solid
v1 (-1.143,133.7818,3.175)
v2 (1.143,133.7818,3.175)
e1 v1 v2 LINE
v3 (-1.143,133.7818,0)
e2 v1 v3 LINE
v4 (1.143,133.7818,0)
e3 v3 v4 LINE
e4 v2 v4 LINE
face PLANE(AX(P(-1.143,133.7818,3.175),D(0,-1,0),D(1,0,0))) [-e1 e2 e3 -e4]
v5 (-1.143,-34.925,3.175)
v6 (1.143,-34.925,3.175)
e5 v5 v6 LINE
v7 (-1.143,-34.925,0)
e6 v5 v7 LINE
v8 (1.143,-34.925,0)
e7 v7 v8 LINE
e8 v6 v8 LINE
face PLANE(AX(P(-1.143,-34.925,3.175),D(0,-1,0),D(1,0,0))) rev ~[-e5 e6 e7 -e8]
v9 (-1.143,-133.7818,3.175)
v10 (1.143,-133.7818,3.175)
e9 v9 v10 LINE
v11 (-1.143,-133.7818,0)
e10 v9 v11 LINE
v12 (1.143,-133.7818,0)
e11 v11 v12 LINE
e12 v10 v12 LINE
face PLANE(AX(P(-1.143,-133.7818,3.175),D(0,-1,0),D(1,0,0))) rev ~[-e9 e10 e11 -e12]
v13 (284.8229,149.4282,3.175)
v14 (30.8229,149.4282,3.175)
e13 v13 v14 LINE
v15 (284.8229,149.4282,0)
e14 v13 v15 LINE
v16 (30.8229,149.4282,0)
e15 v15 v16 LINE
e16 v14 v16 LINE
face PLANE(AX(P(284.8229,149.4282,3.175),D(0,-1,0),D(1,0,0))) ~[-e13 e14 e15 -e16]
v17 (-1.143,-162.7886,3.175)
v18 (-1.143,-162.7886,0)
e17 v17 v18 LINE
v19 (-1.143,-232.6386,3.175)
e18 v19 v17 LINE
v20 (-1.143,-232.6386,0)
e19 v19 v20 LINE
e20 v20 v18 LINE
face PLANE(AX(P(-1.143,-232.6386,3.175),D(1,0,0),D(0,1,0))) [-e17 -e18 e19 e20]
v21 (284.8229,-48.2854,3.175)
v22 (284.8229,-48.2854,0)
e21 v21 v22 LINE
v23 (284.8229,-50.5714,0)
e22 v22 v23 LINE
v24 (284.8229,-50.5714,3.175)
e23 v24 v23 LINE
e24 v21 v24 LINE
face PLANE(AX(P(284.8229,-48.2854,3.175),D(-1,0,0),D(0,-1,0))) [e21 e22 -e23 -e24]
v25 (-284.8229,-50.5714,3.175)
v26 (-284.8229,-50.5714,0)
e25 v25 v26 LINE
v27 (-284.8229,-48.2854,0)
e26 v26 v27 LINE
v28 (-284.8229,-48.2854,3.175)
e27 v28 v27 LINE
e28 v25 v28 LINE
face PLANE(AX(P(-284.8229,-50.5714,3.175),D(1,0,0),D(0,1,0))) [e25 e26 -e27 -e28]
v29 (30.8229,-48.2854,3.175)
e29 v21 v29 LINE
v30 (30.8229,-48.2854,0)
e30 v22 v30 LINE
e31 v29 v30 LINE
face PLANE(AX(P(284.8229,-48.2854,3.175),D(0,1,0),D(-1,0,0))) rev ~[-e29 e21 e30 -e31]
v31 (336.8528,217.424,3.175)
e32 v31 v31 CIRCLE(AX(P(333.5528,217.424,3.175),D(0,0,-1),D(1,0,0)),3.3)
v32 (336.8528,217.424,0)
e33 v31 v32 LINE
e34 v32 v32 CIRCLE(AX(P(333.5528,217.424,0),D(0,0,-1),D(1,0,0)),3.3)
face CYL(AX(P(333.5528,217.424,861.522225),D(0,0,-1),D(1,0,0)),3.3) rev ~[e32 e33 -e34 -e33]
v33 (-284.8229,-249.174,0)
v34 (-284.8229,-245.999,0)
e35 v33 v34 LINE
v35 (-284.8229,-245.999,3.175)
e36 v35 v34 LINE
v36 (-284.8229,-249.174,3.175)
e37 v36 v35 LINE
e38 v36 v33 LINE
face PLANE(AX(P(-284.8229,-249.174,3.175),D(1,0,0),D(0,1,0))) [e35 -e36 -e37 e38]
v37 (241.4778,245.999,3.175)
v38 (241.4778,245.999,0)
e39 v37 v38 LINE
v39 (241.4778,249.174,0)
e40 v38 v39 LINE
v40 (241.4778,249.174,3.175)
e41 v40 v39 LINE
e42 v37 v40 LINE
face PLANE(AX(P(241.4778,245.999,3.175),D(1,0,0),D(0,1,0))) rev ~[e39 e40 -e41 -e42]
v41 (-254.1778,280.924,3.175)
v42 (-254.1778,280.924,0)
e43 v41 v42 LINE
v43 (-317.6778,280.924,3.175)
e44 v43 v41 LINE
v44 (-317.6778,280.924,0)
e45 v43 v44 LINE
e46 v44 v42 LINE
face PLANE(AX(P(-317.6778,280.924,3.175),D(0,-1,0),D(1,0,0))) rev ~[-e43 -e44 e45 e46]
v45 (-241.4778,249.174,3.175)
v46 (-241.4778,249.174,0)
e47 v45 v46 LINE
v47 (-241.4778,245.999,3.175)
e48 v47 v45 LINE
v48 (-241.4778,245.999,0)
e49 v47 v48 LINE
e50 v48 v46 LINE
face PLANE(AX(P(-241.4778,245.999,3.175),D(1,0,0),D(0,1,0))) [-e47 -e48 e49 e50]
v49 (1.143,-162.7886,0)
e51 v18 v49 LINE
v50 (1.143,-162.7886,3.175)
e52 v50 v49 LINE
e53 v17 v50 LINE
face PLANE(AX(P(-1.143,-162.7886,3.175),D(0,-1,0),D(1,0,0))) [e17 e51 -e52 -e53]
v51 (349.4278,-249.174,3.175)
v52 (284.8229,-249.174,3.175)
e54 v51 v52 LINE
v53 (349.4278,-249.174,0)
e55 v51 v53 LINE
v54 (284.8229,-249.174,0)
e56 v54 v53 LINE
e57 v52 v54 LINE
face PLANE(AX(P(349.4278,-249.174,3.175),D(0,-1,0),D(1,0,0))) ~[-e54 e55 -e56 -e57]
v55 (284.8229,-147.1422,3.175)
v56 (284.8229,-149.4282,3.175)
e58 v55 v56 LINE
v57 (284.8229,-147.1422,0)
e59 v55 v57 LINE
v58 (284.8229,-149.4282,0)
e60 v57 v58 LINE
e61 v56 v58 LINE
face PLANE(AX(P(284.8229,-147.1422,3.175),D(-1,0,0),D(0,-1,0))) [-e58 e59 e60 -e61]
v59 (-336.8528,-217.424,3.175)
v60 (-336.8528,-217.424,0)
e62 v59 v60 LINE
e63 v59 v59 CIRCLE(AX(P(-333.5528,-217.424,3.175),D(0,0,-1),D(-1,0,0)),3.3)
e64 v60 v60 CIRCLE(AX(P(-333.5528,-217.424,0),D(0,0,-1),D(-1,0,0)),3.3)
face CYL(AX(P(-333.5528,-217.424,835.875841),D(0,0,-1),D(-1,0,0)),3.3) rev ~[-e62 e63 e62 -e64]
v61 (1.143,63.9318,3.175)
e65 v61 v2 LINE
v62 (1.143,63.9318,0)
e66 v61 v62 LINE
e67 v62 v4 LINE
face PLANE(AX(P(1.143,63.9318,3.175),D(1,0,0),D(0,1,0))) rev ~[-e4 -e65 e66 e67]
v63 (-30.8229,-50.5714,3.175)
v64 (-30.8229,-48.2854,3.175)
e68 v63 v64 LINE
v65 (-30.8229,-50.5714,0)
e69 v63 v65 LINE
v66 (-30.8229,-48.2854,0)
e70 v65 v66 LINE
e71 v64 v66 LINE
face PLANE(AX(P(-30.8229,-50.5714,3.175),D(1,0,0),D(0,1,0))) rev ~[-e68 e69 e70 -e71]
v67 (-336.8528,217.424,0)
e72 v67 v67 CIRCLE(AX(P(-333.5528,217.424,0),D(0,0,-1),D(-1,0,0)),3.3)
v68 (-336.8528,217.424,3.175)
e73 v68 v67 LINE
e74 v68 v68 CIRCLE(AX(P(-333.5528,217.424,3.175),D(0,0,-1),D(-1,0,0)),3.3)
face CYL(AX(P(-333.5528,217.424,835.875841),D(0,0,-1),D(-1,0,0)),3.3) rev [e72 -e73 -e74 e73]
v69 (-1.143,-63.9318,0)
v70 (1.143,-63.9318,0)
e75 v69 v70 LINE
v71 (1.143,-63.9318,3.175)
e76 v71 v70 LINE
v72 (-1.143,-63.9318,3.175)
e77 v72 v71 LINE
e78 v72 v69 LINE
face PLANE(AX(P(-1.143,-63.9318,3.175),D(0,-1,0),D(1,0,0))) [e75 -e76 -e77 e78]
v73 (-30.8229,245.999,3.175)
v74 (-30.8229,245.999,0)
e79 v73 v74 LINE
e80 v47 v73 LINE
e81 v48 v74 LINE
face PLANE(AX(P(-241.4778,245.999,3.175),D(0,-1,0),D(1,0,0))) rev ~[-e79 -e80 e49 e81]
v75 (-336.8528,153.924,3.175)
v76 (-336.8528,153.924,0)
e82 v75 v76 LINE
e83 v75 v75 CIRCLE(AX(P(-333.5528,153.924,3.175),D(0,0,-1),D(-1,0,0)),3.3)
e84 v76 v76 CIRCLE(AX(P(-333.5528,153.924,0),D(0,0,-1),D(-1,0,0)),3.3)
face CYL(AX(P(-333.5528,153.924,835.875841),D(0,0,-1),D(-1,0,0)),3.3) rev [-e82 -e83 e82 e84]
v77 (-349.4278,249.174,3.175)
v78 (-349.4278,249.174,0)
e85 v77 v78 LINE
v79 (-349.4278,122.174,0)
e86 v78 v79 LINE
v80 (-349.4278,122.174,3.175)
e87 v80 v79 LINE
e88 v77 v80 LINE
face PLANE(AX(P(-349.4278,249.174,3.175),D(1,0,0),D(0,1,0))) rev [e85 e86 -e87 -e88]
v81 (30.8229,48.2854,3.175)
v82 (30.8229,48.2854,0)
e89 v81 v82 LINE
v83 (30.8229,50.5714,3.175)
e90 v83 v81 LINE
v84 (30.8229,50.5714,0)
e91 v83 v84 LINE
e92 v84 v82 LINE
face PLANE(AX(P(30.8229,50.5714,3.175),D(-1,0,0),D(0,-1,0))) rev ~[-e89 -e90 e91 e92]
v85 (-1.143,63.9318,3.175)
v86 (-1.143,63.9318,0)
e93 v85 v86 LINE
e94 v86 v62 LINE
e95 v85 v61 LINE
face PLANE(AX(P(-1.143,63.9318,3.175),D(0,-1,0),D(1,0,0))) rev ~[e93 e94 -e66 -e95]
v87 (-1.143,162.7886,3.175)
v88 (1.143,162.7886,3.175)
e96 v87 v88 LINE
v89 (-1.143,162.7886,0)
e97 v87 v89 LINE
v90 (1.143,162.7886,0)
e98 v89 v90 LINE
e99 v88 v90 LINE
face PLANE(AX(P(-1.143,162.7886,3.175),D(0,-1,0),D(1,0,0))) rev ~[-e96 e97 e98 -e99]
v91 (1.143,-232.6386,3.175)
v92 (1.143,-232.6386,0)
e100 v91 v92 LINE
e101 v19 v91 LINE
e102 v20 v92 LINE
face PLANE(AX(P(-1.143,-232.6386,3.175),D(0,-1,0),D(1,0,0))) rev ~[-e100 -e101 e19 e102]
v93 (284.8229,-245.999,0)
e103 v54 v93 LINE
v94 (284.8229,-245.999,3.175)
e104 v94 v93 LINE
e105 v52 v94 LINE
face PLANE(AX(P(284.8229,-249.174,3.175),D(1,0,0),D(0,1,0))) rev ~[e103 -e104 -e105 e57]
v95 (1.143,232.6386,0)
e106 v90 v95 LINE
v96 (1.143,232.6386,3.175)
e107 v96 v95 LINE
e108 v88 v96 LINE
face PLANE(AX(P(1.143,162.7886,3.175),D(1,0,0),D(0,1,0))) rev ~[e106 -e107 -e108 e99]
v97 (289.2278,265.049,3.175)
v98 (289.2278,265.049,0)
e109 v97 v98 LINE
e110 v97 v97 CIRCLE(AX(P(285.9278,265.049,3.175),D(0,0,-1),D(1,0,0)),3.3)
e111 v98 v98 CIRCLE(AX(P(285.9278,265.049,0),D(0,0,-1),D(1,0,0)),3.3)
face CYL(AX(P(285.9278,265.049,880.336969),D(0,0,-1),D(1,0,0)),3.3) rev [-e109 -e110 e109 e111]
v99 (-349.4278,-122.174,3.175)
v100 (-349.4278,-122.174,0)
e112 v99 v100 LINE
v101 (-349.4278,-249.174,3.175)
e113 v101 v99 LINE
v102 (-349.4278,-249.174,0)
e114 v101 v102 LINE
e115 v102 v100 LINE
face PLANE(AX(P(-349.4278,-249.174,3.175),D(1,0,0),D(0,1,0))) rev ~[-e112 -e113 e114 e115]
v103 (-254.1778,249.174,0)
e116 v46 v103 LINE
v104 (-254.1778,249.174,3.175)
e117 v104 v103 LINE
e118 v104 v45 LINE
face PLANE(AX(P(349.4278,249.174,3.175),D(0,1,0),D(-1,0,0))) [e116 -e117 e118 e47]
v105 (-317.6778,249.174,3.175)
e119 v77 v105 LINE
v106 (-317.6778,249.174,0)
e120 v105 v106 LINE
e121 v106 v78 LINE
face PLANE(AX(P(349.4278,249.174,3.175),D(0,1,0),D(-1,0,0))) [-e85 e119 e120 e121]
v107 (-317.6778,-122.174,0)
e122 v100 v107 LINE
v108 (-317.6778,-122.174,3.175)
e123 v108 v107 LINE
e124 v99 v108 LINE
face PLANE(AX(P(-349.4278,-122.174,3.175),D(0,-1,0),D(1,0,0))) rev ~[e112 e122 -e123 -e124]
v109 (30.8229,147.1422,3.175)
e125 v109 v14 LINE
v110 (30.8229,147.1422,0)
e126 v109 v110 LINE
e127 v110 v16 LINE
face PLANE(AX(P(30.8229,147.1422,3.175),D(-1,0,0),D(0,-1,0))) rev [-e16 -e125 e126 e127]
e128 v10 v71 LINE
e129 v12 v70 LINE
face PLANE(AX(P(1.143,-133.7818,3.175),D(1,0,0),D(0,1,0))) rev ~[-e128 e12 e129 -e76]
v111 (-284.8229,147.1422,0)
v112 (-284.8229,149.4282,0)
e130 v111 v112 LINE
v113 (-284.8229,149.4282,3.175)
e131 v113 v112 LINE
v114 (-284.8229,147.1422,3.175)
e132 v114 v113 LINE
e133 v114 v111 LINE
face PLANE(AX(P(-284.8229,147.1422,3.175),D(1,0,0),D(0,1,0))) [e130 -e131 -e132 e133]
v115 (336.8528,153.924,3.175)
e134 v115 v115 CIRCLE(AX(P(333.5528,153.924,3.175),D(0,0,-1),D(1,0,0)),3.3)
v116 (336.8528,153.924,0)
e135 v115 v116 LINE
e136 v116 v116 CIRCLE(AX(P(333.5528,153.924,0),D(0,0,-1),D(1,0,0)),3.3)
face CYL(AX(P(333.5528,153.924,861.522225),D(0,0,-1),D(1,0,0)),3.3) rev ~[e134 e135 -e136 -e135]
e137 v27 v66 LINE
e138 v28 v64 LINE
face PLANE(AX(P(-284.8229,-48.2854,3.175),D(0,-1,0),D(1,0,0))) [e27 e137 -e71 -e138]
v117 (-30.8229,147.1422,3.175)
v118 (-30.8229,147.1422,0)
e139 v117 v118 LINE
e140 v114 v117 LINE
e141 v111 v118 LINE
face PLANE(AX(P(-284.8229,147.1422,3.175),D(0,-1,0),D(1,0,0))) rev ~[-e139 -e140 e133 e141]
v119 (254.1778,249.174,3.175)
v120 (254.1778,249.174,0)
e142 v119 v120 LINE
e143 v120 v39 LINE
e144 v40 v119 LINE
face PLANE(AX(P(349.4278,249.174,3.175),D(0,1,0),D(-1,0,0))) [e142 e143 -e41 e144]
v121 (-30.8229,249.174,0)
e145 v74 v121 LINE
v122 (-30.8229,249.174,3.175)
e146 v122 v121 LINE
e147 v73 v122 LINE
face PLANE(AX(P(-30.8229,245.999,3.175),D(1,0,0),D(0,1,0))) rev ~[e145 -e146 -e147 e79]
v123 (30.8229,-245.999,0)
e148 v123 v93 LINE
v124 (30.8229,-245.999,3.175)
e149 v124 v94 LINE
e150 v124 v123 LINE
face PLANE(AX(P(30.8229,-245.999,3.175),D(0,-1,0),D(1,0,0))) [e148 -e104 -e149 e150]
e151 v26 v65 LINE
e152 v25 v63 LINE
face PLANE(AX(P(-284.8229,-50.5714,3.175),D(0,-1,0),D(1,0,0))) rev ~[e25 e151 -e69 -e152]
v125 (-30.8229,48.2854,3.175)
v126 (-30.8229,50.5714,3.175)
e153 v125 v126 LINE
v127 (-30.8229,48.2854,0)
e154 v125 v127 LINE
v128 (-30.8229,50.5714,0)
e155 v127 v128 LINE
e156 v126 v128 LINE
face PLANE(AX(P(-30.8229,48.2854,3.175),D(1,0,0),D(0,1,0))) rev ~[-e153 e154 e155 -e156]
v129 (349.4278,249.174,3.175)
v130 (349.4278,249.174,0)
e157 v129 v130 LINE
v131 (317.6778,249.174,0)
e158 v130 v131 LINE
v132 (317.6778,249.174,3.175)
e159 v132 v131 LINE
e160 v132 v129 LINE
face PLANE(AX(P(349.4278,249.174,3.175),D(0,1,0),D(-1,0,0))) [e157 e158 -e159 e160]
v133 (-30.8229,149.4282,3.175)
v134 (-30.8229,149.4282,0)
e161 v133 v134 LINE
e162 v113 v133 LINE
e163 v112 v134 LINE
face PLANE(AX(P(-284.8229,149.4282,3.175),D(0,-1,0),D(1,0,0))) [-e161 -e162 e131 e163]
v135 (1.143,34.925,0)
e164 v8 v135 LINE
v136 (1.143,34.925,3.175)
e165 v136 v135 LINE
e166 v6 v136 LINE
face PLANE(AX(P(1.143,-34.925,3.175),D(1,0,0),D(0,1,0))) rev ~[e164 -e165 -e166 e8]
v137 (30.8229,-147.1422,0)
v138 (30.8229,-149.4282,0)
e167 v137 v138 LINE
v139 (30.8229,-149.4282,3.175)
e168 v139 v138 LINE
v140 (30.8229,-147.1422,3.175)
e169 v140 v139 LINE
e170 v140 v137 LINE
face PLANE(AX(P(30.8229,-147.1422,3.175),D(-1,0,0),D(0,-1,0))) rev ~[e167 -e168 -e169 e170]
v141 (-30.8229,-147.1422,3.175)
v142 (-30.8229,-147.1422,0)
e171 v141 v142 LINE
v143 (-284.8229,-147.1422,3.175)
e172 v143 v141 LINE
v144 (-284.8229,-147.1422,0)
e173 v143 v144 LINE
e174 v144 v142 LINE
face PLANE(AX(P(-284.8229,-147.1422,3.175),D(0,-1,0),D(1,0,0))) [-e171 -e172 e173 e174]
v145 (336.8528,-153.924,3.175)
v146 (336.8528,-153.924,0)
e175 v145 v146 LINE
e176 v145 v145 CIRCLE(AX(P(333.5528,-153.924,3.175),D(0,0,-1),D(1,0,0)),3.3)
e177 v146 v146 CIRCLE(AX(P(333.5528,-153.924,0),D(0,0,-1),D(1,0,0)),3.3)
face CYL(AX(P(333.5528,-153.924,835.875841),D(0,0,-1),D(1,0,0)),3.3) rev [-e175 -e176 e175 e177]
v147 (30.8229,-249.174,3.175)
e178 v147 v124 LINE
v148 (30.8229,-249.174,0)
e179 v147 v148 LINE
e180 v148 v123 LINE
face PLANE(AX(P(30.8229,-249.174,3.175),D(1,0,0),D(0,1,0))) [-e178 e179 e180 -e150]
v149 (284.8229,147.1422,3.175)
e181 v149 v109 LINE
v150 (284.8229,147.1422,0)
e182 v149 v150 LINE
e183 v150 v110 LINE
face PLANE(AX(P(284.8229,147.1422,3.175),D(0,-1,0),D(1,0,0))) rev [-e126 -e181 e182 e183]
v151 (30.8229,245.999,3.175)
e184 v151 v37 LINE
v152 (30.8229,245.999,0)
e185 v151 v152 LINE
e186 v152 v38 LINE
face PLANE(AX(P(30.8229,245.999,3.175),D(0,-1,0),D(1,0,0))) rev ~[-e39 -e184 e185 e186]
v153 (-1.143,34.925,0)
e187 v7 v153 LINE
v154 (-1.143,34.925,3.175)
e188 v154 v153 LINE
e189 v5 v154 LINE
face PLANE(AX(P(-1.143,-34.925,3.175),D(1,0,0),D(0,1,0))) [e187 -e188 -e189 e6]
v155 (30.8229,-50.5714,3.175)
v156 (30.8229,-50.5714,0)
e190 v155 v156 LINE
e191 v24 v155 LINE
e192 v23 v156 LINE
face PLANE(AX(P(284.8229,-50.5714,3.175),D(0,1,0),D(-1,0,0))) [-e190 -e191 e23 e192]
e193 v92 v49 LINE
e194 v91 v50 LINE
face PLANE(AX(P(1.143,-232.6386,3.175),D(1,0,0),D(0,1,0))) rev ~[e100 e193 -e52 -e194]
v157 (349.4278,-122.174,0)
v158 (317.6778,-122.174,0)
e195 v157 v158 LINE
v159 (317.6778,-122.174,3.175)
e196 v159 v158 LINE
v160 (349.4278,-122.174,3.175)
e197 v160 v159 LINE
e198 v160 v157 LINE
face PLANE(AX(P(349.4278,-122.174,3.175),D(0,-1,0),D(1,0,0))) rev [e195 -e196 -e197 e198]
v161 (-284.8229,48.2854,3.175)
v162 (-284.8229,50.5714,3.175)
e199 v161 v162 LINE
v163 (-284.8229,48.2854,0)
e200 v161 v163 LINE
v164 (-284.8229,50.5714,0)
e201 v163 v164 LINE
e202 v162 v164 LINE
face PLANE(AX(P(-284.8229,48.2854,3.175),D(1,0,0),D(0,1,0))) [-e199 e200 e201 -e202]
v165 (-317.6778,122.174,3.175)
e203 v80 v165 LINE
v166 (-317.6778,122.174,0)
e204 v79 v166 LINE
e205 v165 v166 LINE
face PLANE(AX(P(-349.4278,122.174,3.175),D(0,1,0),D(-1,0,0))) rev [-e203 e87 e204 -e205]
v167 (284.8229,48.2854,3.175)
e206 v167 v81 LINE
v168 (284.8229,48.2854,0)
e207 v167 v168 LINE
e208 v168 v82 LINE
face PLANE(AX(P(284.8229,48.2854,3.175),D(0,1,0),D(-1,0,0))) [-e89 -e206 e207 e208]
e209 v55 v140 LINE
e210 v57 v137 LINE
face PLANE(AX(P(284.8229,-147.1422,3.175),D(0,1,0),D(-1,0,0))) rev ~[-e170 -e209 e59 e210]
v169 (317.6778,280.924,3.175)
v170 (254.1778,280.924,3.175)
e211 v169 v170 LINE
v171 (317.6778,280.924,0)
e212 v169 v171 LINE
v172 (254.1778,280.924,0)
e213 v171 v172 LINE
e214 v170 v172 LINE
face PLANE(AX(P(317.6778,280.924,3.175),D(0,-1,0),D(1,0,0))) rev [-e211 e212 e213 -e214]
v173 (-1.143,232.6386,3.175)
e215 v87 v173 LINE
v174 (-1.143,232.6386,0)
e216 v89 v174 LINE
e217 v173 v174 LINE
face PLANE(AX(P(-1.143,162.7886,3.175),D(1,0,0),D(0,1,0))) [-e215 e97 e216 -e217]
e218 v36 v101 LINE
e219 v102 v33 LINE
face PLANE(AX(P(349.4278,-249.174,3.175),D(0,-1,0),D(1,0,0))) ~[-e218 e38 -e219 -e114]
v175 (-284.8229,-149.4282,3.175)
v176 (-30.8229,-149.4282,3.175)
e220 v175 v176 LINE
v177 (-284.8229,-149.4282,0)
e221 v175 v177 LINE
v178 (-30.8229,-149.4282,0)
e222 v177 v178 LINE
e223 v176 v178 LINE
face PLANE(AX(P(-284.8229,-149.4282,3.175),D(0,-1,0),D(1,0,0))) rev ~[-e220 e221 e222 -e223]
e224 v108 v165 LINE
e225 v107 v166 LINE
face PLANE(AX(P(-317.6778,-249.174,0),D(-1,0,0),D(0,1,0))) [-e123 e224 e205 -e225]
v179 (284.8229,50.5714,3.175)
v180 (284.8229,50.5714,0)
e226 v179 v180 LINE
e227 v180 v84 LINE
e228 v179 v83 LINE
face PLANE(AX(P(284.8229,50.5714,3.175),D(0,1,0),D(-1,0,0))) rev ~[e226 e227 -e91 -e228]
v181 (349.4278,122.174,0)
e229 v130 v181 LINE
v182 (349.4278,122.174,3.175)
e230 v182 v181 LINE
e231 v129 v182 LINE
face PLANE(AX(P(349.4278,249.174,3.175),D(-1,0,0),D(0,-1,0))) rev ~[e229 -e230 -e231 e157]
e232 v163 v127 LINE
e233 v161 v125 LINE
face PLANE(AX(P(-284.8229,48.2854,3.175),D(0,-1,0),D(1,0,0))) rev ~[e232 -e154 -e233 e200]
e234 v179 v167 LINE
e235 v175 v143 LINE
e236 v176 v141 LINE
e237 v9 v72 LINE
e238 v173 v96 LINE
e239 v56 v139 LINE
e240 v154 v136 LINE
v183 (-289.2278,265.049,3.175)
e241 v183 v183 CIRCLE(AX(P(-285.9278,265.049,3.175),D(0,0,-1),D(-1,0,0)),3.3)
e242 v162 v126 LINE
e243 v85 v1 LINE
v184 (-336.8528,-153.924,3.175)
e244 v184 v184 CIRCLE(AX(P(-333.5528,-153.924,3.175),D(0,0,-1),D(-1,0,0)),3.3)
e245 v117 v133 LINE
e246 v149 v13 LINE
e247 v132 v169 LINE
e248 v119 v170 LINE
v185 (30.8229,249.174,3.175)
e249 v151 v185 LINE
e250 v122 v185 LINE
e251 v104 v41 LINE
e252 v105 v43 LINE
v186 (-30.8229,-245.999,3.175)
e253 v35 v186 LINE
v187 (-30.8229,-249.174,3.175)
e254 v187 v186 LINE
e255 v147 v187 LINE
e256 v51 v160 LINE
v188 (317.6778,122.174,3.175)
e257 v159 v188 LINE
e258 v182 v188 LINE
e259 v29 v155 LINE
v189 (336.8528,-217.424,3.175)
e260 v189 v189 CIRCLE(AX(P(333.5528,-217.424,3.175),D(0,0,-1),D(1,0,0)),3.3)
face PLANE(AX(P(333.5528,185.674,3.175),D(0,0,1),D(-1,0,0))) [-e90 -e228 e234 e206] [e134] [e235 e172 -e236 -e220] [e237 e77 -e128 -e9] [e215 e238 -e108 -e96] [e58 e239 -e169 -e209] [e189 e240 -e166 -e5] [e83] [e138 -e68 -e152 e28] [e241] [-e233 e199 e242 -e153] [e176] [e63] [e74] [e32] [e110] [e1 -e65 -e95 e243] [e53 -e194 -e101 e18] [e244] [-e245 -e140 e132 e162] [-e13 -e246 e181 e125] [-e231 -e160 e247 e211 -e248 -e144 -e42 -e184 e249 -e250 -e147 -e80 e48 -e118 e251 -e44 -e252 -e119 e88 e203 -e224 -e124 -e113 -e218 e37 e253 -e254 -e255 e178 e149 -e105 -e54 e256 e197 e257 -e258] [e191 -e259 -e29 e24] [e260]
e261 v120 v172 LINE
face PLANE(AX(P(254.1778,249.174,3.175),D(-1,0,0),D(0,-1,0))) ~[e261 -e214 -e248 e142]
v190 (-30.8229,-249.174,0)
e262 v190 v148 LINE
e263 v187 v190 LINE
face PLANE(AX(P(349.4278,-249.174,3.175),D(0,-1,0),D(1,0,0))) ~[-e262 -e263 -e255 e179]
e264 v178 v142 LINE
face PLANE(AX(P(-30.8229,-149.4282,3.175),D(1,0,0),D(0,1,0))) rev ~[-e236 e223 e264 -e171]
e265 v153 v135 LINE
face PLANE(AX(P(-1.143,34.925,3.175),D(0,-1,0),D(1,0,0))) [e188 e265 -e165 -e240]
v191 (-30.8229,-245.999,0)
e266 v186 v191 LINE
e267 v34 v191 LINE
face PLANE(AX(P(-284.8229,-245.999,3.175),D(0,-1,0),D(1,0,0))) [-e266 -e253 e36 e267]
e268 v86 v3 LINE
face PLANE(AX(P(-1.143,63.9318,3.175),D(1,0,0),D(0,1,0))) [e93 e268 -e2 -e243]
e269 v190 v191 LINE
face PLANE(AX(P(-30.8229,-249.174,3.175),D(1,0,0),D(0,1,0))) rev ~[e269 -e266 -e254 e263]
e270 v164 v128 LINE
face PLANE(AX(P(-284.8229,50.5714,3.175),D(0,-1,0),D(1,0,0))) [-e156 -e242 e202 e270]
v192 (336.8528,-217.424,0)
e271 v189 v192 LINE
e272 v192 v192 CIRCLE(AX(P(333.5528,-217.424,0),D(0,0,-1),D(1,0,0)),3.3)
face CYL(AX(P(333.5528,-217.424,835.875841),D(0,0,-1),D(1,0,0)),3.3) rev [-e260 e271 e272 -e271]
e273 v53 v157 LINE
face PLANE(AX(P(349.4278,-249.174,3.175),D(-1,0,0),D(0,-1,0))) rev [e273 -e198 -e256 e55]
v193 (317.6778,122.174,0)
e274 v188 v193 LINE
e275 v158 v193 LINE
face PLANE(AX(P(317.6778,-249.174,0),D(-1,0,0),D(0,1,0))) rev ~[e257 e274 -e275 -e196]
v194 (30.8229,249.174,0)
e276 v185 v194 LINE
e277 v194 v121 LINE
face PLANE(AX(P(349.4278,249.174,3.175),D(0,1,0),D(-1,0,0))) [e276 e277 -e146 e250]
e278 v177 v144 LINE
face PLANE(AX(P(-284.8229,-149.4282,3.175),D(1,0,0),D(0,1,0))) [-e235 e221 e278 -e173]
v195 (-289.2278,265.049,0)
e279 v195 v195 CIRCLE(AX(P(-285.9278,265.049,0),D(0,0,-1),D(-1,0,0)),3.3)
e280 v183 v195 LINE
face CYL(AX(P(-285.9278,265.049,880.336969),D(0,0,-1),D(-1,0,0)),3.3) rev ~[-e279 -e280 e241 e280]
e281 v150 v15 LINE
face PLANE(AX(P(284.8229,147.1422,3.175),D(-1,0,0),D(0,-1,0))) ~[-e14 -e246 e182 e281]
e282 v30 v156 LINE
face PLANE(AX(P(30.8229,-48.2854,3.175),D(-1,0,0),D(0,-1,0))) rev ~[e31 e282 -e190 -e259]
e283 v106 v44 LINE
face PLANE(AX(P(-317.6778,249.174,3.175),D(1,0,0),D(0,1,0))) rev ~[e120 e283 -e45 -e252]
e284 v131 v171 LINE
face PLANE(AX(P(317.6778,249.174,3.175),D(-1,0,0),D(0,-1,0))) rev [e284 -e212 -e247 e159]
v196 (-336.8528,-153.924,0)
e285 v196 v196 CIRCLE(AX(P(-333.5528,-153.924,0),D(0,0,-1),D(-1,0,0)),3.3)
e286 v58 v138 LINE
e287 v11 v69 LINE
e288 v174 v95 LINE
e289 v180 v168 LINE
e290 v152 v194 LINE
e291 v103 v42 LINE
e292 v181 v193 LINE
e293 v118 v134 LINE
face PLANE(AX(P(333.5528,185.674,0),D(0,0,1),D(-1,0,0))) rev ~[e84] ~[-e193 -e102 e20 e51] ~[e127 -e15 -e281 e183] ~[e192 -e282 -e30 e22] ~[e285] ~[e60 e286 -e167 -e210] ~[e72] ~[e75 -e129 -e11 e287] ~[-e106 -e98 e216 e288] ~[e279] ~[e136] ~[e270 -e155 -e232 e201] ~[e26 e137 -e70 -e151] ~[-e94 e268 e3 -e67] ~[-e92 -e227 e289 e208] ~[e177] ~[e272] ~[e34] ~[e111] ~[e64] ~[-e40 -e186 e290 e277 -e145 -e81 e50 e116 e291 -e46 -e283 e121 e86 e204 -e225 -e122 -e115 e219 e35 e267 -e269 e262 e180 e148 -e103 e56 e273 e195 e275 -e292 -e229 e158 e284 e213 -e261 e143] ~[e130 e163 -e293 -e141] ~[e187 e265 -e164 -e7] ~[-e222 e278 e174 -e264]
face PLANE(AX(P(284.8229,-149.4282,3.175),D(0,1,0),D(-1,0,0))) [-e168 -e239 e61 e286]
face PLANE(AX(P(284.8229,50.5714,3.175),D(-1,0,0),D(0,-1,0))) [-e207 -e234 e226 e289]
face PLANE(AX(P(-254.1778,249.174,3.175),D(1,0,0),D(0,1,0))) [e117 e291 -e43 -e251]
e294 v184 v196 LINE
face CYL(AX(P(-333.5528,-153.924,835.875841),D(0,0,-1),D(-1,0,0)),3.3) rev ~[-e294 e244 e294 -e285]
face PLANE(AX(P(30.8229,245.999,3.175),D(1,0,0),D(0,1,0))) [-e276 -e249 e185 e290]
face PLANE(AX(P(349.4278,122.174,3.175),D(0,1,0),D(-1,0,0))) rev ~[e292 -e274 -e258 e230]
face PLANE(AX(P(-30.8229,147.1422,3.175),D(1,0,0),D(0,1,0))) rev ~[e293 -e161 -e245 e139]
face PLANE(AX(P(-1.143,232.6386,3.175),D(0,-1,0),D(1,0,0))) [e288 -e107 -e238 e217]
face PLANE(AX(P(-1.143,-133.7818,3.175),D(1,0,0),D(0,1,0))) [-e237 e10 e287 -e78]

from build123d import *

# Parameters (mm, degrees)
MASTER_SKETCH_W         = 635.3556
MASTER_SKETCH_H         = 498.348
BOSS_EXTRUDE1_DEPTH     = 3.175
SKETCH2_W               = 31.75
SKETCH2_H               = 127
BOSS_EXTRUDE2_DEPTH     = 3.175
M6_CLEARANCE_HOLE1_D    = 6.6
MIRROR7_COPY_1_SKETCH_W = 31.75
MIRROR7_COPY_1_SKETCH_H = 127
MIRROR7_COPY_1_DEPTH    = 3.175
MIRROR7_COPY_2_D        = 6.6
SKETCH5_W               = 2.286
SKETCH5_H               = 69.85
CUT_EXTRUDE1_DEPTH      = 430.182420788
LPATTERN1_COUNT         = 5
LPATTERN1_PITCH         = 98.8568
SKETCH7_W               = 254
SKETCH7_H               = 2.286
CUT_EXTRUDE3_DEPTH      = 430.182420788
LPATTERN2_COUNT         = 4
LPATTERN2_PITCH         = 98.8568
MIRROR4_COPY_1_SKETCH_W = 254
MIRROR4_COPY_1_SKETCH_H = 2.286
MIRROR4_COPY_1_DEPTH    = 430.182420788
MIRROR4_COPY_2_SKETCH_W = 254
MIRROR4_COPY_2_SKETCH_H = 2.286
MIRROR4_COPY_2_DEPTH    = 430.182420788
MIRROR4_COPY_3_SKETCH_W = 254
MIRROR4_COPY_3_SKETCH_H = 2.286
MIRROR4_COPY_3_DEPTH    = 430.182420788
SKETCH10_W              = 63.5
SKETCH10_H              = 31.75
SKETCH10_R              = 3
BOSS_EXTRUDE3_DEPTH     = 3.175
M6_CLEARANCE_HOLE2_D    = 6.6
SKETCH6_W               = 254
SKETCH6_H               = 3.175
SKETCH6_W_2             = 210.6549
CUT_EXTRUDE2_DEPTH      = 449.361641774


with BuildPart() as part:
    # Master Sketch → Boss-Extrude1 (new body)
    with BuildSketch(Plane.XY):
        Rectangle(MASTER_SKETCH_W, MASTER_SKETCH_H)
    extrude(amount=BOSS_EXTRUDE1_DEPTH)

    # Sketch2 → Boss-Extrude2 (add)
    with BuildSketch(Plane.XY.offset(3.175)):
        with Locations((-333.5528, -185.674)):
            Rectangle(SKETCH2_W, SKETCH2_H)
    boss_extrude2 = extrude(amount=-BOSS_EXTRUDE2_DEPTH)

    # M6 Clearance Hole1 (through all)
    with Locations(Plane.XY.offset(3.175)):
        with Locations((-333.5528, -217.424), (-333.5528, -153.924)):
            m6_clearance_hole1 = Hole(M6_CLEARANCE_HOLE1_D / 2)

    # Mirror1: Boss-Extrude2, M6 Clearance Hole1 across plane
    add(boss_extrude2.mirror(Plane(origin=(0, 0, 0), x_dir=(0, 0, 1), z_dir=(1, 0, 0))))
    add(m6_clearance_hole1.mirror(Plane(origin=(0, 0, 0), x_dir=(0, 0, 1), z_dir=(1, 0, 0))), mode=Mode.SUBTRACT)

    # Mirror7: Boss-Extrude2, M6 Clearance Hole1 across plane
    add(boss_extrude2.mirror(Plane.ZX))
    add(m6_clearance_hole1.mirror(Plane.ZX), mode=Mode.SUBTRACT)

    # Mirror7 copy 1 sketch → Mirror7 copy 1 (add)
    with BuildSketch(Plane(origin=(0, 0, 3.175), x_dir=(-1, 0, 0), z_dir=(0, 0, 1))):
        with Locations((-333.5528, -185.674)):
            Rectangle(MIRROR7_COPY_1_SKETCH_W, MIRROR7_COPY_1_SKETCH_H)
    extrude(amount=-MIRROR7_COPY_1_DEPTH)

    # Mirror7 copy 2 (through all)
    with Locations(Plane(origin=(0, 0, 3.175), x_dir=(-1, 0, 0), z_dir=(0, 0, 1))):
        with Locations((-333.5528, -217.424), (-333.5528, -153.924)):
            Hole(MIRROR7_COPY_2_D / 2)

    # Sketch5 → Cut-Extrude1 (cut, through all)
    with BuildSketch(Plane.XY.offset(3.175)):
        with Locations((0, 197.7136)):
            Rectangle(SKETCH5_W, SKETCH5_H)
    cut_extrude1 = extrude(amount=-CUT_EXTRUDE1_DEPTH, mode=Mode.SUBTRACT)

    # LPattern1: Cut-Extrude1 ×5
    with Locations(*[(0, -i * LPATTERN1_PITCH, 0) for i in range(1, LPATTERN1_COUNT)]):
        add(cut_extrude1, mode=Mode.SUBTRACT)

    # Sketch7 → Cut-Extrude3 (cut, through all)
    with BuildSketch(Plane.XY.offset(3.175)):
        with Locations((-157.8229, 148.2852)):
            Rectangle(SKETCH7_W, SKETCH7_H)
    cut_extrude3 = extrude(amount=-CUT_EXTRUDE3_DEPTH, mode=Mode.SUBTRACT)

    # LPattern2: Cut-Extrude3 ×4
    with Locations(*[(0, -i * LPATTERN2_PITCH, 0) for i in range(1, LPATTERN2_COUNT)]):
        add(cut_extrude3, mode=Mode.SUBTRACT)

    # Mirror4: Cut-Extrude3 across plane
    add(cut_extrude3.mirror(Plane(origin=(0, 0, 0), x_dir=(0, 0, 1), z_dir=(1, 0, 0))), mode=Mode.SUBTRACT)

    # Mirror4 copy 1 sketch → Mirror4 copy 1 (cut, through all)
    with BuildSketch(Plane(origin=(0, -98.8568, 3.175), x_dir=(-1, 0, 0), z_dir=(0, 0, 1))):
        with Locations((-157.8229, -148.2852)):
            Rectangle(MIRROR4_COPY_1_SKETCH_W, MIRROR4_COPY_1_SKETCH_H)
    extrude(amount=-MIRROR4_COPY_1_DEPTH, mode=Mode.SUBTRACT)

    # Mirror4 copy 2 sketch → Mirror4 copy 2 (cut, through all)
    with BuildSketch(Plane(origin=(0, -197.7136, 3.175), x_dir=(-1, 0, 0), z_dir=(0, 0, 1))):
        with Locations((-157.8229, -148.2852)):
            Rectangle(MIRROR4_COPY_2_SKETCH_W, MIRROR4_COPY_2_SKETCH_H)
    extrude(amount=-MIRROR4_COPY_2_DEPTH, mode=Mode.SUBTRACT)

    # Mirror4 copy 3 sketch → Mirror4 copy 3 (cut, through all)
    with BuildSketch(Plane(origin=(0, -296.5704, 3.175), x_dir=(-1, 0, 0), z_dir=(0, 0, 1))):
        with Locations((-157.8229, -148.2852)):
            Rectangle(MIRROR4_COPY_3_SKETCH_W, MIRROR4_COPY_3_SKETCH_H)
    extrude(amount=-MIRROR4_COPY_3_DEPTH, mode=Mode.SUBTRACT)

    # Sketch10 → Boss-Extrude3 (add)
    with BuildSketch(Plane.XY.offset(3.175)):
        with Locations((-285.9278, 265.049)):
            Rectangle(SKETCH10_W, SKETCH10_H)
        with Locations((-285.9278, 265.049)):
            Circle(SKETCH10_R, mode=Mode.SUBTRACT)
    boss_extrude3 = extrude(amount=-BOSS_EXTRUDE3_DEPTH)

    # M6 Clearance Hole2 (through all)
    with Locations(Plane.XY.offset(3.175)):
        with Locations((-285.9278, 265.049)):
            m6_clearance_hole2 = Hole(M6_CLEARANCE_HOLE2_D / 2)

    # Mirror6: Boss-Extrude3, M6 Clearance Hole2 across plane
    add(boss_extrude3.mirror(Plane(origin=(0, 0, 0), x_dir=(0, 0, 1), z_dir=(1, 0, 0))))
    add(m6_clearance_hole2.mirror(Plane(origin=(0, 0, 0), x_dir=(0, 0, 1), z_dir=(1, 0, 0))), mode=Mode.SUBTRACT)

    # Sketch6 → Cut-Extrude2 (cut, through all)
    with BuildSketch(Plane.XY.offset(3.175)):
        with Locations((-157.8229, -247.5865)):
            Rectangle(SKETCH6_W, SKETCH6_H)
        with Locations((157.8229, -247.5865)):
            Rectangle(SKETCH6_W, SKETCH6_H)
        with Locations((-136.15035, 247.5865)):
            Rectangle(SKETCH6_W_2, SKETCH6_H)
        with Locations((136.15035, 247.5865)):
            Rectangle(SKETCH6_W_2, SKETCH6_H)
    extrude(amount=-CUT_EXTRUDE2_DEPTH, mode=Mode.SUBTRACT)


solid = part.part
